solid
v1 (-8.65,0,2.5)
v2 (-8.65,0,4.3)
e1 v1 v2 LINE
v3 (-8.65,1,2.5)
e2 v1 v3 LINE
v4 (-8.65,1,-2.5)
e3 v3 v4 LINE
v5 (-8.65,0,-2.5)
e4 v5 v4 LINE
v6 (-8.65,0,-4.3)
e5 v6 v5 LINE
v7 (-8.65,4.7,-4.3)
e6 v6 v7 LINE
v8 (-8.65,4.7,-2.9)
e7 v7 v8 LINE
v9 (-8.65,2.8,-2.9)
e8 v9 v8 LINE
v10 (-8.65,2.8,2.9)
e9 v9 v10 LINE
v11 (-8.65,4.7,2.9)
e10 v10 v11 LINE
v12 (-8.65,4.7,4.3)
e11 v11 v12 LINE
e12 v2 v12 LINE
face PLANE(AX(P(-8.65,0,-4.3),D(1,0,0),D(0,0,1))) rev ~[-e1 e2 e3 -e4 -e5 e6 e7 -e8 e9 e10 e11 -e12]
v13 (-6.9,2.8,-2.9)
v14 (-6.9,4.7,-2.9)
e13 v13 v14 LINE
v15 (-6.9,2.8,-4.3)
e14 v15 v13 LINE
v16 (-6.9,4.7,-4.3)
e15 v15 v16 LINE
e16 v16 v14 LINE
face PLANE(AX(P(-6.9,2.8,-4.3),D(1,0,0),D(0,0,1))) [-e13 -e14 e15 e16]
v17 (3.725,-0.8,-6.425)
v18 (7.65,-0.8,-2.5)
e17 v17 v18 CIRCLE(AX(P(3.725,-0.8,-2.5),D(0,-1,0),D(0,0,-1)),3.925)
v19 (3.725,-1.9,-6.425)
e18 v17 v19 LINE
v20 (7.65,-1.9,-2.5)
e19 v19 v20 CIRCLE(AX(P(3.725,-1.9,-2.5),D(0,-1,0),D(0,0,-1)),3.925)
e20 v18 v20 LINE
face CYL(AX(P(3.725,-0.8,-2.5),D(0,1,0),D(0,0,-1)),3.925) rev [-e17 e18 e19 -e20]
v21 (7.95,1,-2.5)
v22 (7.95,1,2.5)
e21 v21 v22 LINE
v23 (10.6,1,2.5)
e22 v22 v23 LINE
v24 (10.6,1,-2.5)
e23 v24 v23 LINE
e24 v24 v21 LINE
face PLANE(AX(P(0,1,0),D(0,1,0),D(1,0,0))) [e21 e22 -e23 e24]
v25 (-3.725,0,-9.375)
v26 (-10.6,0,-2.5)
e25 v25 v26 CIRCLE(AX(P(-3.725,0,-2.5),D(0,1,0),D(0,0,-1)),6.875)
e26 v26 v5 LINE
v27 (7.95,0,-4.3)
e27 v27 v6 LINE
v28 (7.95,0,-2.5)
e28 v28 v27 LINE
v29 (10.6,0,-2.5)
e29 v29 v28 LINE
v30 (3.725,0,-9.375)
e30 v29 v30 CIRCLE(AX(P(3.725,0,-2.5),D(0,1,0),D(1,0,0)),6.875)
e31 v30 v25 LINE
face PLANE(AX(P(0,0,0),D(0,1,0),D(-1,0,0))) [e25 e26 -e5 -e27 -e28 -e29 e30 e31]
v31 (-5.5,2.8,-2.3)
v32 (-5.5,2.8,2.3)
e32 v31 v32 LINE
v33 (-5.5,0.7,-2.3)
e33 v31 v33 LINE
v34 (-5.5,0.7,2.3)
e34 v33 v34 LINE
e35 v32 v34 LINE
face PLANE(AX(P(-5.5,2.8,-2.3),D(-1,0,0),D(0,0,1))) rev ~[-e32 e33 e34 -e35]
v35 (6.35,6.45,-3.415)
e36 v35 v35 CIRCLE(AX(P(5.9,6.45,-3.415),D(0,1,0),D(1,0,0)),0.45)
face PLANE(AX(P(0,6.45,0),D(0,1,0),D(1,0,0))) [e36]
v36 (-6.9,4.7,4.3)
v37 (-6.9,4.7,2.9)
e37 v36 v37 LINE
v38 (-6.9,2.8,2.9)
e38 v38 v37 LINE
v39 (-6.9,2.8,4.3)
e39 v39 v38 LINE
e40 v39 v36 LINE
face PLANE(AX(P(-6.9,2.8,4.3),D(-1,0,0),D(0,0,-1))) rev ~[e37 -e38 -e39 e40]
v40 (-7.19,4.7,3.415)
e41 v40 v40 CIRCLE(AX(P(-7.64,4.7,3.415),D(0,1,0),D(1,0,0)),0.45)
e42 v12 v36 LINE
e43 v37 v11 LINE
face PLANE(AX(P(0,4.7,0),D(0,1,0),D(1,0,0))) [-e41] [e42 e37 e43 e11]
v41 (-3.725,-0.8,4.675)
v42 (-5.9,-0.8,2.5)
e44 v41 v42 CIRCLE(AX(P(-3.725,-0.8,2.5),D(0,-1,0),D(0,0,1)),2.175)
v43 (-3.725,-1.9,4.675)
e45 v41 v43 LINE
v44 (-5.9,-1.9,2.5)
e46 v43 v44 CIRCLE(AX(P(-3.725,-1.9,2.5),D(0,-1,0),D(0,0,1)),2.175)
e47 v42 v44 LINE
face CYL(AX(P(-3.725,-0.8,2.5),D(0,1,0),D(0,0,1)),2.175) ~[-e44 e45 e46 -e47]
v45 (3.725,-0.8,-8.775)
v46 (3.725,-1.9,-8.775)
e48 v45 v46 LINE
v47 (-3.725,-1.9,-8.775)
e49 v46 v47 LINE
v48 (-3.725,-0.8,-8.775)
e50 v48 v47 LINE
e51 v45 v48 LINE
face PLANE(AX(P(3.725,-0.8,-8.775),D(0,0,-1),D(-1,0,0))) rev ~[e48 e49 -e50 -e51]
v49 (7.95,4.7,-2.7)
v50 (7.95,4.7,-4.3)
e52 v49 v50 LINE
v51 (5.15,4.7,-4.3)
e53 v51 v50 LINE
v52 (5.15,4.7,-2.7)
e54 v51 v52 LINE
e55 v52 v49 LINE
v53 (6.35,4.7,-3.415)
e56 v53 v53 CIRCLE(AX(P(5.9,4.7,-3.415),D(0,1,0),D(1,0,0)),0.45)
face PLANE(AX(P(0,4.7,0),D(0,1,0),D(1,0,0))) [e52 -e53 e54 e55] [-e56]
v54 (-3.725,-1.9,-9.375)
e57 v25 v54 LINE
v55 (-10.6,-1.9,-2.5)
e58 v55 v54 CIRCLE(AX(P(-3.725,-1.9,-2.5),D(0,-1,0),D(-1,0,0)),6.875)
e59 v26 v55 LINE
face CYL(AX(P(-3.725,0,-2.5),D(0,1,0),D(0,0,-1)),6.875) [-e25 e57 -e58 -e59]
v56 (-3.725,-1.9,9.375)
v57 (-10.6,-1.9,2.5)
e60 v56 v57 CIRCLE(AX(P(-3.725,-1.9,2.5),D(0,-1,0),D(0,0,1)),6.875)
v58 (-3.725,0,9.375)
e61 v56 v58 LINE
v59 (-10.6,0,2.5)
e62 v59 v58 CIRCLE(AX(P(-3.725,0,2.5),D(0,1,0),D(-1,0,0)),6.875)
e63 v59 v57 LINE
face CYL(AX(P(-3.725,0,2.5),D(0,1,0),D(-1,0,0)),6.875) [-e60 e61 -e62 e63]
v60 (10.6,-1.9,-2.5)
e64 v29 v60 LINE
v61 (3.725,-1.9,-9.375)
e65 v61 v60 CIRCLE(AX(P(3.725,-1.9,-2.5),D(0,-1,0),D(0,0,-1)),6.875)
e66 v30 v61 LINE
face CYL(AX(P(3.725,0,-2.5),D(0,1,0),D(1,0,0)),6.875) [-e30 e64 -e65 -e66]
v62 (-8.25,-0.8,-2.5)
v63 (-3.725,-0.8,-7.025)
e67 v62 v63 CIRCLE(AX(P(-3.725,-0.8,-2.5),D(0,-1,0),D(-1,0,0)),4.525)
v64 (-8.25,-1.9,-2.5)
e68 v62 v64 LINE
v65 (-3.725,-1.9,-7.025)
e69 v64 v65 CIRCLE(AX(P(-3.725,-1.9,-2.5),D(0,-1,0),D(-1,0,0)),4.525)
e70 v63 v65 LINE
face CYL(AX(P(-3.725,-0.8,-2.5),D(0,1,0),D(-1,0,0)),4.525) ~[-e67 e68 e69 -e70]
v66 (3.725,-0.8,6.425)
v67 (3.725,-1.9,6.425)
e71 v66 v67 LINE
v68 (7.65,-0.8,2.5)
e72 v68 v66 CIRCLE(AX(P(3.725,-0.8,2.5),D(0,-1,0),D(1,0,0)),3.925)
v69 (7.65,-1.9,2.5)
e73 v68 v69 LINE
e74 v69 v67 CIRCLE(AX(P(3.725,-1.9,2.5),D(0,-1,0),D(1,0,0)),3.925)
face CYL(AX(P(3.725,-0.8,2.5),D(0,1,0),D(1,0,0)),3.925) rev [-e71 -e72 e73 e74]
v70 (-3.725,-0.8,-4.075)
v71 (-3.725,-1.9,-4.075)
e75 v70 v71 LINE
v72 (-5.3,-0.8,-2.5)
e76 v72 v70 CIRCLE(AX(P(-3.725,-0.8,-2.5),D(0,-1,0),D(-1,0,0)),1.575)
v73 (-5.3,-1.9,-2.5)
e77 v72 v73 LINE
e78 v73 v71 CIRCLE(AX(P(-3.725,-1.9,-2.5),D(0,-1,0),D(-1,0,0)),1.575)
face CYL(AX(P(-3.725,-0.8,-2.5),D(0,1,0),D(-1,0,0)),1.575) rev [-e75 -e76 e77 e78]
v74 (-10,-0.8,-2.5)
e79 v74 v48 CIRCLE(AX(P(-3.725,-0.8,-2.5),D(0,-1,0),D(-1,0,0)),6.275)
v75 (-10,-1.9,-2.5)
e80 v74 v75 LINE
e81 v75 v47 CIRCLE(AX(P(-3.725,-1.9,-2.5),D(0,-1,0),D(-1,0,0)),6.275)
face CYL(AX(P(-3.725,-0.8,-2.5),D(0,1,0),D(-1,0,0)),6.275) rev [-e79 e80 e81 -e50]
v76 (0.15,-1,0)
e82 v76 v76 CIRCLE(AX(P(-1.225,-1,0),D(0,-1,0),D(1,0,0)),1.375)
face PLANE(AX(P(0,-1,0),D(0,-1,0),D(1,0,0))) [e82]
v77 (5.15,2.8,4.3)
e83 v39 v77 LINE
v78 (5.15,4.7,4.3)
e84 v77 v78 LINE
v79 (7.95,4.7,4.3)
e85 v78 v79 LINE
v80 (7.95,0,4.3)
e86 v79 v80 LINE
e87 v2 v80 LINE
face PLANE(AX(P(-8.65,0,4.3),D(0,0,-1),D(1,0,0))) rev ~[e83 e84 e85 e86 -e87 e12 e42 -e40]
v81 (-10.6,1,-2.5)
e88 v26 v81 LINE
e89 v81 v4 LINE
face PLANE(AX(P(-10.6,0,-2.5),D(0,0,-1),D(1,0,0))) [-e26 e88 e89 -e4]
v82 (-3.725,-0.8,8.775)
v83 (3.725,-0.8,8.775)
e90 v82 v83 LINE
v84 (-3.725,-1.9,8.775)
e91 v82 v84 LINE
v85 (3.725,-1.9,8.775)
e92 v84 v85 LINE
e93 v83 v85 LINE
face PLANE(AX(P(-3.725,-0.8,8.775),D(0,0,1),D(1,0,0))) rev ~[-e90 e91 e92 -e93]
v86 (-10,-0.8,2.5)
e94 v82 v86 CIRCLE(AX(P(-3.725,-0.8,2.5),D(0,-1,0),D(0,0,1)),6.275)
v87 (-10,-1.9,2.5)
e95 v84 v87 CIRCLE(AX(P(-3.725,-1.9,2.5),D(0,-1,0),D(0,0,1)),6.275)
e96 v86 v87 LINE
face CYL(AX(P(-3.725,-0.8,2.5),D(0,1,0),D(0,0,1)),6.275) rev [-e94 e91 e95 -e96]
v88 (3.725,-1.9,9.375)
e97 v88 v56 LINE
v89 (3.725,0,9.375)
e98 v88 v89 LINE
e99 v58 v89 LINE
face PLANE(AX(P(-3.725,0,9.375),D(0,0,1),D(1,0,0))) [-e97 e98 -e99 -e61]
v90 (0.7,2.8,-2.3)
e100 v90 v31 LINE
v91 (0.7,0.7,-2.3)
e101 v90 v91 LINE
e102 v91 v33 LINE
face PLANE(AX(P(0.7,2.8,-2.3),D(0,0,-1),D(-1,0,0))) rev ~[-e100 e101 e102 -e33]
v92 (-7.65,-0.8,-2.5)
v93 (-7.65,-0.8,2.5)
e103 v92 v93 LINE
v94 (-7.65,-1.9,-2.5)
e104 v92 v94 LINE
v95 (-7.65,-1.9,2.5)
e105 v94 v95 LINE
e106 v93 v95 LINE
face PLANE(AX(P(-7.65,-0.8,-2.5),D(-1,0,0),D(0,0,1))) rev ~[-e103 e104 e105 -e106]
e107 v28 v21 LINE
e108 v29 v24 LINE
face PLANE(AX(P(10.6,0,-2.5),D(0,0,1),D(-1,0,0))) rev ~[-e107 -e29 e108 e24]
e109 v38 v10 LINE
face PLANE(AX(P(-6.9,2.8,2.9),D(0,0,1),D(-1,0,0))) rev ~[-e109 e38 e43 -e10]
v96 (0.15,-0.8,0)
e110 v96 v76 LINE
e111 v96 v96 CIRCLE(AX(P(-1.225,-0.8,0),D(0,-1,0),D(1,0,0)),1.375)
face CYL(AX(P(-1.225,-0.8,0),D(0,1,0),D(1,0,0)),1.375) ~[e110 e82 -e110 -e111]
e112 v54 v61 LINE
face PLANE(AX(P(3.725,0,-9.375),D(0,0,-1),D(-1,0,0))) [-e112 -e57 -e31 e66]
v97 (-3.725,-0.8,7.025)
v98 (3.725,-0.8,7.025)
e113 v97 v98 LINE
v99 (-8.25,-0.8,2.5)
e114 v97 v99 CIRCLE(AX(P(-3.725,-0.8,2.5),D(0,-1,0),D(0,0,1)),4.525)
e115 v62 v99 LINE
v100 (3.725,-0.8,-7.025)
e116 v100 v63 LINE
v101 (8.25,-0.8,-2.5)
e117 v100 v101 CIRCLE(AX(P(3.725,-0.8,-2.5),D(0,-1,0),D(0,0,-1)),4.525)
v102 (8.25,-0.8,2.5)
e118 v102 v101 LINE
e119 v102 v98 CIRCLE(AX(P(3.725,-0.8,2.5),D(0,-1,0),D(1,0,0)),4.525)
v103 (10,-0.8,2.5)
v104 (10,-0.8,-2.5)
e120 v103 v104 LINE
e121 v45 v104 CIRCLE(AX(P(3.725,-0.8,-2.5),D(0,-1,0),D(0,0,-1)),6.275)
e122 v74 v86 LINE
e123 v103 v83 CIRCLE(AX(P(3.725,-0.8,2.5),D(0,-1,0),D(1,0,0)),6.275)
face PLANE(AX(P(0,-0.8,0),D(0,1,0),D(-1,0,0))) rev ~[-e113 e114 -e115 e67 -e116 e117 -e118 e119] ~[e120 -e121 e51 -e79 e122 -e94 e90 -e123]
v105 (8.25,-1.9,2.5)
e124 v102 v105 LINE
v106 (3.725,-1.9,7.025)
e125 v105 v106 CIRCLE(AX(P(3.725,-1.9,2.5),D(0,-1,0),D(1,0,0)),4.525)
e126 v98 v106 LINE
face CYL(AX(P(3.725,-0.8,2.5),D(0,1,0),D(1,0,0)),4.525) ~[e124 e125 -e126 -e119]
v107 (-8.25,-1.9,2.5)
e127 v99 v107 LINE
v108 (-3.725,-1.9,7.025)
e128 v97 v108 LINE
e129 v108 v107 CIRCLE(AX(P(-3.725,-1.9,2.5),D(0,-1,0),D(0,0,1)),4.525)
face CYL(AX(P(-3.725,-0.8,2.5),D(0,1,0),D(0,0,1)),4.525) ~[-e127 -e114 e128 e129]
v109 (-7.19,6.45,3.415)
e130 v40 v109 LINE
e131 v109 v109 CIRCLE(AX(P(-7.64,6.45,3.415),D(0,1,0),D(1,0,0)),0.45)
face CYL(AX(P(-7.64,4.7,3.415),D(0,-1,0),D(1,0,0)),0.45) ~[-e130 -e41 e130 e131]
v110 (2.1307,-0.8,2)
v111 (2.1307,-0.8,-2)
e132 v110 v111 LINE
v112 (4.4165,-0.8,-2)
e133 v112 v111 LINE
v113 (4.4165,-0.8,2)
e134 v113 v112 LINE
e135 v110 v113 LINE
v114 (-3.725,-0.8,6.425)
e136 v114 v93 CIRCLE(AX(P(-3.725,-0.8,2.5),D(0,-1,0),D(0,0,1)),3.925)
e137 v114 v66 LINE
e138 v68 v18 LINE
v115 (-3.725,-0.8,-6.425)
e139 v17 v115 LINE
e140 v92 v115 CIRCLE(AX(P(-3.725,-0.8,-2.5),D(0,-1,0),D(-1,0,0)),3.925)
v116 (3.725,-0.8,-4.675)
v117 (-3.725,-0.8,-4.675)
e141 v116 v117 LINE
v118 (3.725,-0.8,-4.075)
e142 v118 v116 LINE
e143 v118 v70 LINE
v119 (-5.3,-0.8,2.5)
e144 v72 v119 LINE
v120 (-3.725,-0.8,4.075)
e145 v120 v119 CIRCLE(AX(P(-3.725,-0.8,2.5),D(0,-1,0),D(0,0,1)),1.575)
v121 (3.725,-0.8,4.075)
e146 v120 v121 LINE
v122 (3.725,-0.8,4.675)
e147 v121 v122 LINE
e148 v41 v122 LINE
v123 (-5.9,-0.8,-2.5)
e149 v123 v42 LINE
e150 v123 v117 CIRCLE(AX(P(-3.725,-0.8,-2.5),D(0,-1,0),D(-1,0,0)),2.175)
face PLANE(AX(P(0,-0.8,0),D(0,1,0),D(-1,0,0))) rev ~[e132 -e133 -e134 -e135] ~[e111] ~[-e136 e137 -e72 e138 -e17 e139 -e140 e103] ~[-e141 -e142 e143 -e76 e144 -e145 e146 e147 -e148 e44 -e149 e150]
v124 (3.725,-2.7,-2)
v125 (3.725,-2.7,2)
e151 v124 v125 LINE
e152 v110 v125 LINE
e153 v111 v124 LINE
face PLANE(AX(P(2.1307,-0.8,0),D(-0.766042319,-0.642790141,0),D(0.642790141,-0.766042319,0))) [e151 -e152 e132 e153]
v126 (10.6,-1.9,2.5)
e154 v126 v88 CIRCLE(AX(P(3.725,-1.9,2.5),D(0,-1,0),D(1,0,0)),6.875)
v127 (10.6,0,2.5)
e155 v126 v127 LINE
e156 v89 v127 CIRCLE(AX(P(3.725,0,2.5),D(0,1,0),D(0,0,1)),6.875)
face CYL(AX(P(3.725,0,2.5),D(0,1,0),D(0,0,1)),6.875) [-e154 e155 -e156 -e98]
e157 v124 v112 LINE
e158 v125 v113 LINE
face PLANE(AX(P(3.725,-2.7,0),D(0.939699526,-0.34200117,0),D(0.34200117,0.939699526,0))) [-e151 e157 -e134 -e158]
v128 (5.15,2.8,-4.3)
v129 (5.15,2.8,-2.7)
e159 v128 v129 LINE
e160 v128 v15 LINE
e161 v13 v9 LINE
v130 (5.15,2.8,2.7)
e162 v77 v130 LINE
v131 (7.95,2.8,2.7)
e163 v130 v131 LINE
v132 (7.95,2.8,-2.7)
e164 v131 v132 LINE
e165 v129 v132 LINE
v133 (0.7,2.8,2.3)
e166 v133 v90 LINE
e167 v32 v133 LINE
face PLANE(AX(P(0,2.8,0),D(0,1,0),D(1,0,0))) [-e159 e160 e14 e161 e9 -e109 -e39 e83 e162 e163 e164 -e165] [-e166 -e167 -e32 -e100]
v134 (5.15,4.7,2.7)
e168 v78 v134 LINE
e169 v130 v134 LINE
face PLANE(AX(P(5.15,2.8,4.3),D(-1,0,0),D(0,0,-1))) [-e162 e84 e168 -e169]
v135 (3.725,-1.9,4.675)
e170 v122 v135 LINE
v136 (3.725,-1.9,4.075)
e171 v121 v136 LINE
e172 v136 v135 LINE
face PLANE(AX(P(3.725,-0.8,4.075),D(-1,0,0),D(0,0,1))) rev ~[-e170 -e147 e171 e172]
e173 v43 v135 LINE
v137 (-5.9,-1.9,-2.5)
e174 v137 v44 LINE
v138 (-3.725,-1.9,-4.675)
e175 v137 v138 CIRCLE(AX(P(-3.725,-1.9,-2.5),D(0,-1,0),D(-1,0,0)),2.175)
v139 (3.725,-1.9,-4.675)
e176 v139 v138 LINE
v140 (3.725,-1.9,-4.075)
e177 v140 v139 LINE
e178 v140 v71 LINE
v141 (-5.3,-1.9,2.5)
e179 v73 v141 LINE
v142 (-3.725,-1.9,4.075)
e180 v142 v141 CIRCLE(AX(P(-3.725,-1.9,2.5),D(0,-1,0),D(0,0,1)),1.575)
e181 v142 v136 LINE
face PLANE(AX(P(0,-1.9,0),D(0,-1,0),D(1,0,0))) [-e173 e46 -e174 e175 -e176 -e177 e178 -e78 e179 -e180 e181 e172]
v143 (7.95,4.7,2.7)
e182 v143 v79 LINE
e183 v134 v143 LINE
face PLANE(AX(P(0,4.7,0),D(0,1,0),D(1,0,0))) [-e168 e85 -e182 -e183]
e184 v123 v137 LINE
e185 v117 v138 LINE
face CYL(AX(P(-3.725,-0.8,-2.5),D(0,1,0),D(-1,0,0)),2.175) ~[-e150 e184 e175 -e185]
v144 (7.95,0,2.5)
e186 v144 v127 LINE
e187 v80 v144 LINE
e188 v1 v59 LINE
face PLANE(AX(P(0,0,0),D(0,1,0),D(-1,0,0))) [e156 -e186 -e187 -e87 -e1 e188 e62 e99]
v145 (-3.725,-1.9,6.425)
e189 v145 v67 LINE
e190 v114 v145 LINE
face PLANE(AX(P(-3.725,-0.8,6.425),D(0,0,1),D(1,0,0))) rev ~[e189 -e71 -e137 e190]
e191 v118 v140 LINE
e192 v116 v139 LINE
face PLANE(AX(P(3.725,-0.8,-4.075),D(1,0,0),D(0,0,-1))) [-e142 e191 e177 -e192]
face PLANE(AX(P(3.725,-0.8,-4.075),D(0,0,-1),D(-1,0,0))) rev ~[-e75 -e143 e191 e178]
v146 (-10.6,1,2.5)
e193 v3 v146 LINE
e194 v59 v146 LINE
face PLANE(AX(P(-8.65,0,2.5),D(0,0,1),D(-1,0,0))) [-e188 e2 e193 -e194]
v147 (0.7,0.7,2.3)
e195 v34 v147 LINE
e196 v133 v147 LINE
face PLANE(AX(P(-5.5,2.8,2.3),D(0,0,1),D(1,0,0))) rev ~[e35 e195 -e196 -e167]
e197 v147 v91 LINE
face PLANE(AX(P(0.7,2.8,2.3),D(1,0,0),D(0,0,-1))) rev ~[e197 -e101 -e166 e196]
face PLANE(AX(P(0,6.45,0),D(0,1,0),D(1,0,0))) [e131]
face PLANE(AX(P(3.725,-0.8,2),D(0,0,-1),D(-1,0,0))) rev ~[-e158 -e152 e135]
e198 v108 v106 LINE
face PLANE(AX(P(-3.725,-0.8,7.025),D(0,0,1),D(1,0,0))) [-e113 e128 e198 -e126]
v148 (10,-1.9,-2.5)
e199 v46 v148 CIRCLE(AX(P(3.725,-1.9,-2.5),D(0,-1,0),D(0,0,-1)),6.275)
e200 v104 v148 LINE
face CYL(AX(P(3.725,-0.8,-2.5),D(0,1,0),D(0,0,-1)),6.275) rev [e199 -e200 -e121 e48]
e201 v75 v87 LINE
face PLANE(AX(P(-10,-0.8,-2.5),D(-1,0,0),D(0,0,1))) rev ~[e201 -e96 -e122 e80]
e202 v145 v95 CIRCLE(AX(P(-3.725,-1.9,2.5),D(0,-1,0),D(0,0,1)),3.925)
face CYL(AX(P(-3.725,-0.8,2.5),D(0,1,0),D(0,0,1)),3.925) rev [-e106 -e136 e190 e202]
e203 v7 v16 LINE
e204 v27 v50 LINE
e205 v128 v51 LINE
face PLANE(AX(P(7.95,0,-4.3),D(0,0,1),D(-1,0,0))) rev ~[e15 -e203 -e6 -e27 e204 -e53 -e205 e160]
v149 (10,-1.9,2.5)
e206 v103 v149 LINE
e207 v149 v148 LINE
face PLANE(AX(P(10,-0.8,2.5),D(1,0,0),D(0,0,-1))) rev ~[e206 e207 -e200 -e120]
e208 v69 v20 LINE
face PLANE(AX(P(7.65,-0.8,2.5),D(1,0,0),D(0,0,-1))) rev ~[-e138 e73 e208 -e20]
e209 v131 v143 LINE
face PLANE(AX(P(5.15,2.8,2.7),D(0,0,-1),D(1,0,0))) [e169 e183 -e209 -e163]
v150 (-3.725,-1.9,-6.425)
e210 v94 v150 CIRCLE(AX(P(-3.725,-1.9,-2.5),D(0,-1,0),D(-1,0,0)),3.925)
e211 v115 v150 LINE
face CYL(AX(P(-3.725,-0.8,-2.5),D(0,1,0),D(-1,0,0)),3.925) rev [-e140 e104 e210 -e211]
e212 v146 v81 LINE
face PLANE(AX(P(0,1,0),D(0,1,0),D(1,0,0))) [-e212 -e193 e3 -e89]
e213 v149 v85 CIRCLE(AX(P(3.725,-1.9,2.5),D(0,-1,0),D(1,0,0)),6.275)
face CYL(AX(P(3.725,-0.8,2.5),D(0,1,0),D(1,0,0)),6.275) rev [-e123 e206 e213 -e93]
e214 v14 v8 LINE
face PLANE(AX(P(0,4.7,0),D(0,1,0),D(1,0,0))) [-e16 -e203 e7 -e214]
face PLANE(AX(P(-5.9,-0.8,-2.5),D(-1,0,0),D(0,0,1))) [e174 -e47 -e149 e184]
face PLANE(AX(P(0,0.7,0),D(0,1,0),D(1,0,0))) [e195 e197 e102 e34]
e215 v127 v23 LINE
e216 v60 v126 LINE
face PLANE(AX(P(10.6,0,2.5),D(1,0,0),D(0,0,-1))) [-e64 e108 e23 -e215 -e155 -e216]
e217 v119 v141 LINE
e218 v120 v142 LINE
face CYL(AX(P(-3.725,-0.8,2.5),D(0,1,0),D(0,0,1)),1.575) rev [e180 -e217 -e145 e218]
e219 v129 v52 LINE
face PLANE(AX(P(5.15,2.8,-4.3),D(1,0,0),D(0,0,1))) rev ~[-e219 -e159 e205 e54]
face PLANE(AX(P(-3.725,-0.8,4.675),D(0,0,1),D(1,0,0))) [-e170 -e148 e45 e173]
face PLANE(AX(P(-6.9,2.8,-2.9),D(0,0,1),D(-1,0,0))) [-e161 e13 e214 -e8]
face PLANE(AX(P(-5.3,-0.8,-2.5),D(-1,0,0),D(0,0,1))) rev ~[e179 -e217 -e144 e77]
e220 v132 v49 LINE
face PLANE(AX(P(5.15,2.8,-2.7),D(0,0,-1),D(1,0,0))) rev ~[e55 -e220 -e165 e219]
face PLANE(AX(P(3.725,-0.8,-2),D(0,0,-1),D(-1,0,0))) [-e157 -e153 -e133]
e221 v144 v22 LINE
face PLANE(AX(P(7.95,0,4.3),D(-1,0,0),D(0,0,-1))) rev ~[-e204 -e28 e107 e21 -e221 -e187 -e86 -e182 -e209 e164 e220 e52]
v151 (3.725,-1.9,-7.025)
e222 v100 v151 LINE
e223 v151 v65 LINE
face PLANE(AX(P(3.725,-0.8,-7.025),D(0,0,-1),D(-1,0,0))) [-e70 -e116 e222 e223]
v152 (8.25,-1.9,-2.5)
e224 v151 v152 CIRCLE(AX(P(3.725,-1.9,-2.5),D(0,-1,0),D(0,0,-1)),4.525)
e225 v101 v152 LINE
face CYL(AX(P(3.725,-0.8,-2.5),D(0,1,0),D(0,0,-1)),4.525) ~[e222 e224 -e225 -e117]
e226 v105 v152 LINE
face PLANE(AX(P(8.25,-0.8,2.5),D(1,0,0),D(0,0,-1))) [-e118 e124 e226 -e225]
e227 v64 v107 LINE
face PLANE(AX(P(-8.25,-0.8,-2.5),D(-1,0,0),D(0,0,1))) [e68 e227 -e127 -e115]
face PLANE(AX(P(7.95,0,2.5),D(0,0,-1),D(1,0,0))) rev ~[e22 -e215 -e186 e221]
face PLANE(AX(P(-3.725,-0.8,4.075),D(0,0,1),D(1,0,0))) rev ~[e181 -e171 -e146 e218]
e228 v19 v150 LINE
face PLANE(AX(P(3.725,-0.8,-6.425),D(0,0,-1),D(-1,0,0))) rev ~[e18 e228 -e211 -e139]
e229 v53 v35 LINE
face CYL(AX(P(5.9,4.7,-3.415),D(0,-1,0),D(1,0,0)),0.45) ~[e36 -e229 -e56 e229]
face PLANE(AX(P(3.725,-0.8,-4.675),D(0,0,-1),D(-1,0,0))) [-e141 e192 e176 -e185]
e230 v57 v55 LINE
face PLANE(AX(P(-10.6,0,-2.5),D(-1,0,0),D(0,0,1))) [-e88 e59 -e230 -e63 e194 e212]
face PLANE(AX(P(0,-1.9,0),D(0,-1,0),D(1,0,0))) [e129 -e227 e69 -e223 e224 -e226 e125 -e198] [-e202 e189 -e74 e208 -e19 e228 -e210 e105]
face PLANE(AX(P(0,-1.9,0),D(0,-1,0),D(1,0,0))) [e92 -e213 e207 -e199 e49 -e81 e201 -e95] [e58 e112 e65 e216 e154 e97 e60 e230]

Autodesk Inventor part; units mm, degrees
ref_plane "YZ Plane" through (0, 0, 0) normal (1, 0, 0) x (0, 1, 0)
ref_plane "XZ Plane" through (0, 0, 0) normal (0, 1, 0) x (-1, 0, 0)
sketch "Sketch1" plane through (0, 0, 0) normal (0, 1, 0) x (-1, 0, 0)
  line L0 (3.725, 9.375) -> (-3.725, 9.375)
  line L1 (-10.6, 2.5) -> (-10.6, -2.5)
  line L2 (-3.725, -9.375) -> (3.725, -9.375)
  line L3 (10.6, -2.5) -> (10.6, 2.5)
  line L4 (16.8334, 0) -> (-16.8334, 0) construction
  line L5 (0, -15.1184) -> (0, 15.1184) construction
  arc A0 (10.6, 2.5) -> (3.725, 9.375) centre (3.725, 2.5) ccw
  arc A1 (3.725, -9.375) -> (10.6, -2.5) centre (3.725, -2.5) ccw
  arc A2 (-10.6, -2.5) -> (-3.725, -9.375) centre (-3.725, -2.5) ccw
  arc A3 (-3.725, 9.375) -> (-10.6, 2.5) centre (-3.725, 2.5) ccw
  point P0 (0, 0)
  point P1 (-10.6, -9.375)
  point P2 (-10.6, 9.375)
  point P3 (10.6, -9.375)
  dimension "d0" = 21.2
  dimension "d1" = 18.75
  dimension "d2" = 6.875
extrude "Extrusion1" add sketch "Sketch1" against normal blind 0.8
sketch "Sketch2" plane through (0, -0.8, 0) normal (0, -1, 0) x (1, 0, 0)
  line L0 (10.6, -2.5) -> (10.6, 2.5) projected
  arc A0 (10.6, 2.5) -> (3.725, 9.375) centre (3.725, 2.5) ccw projected
  arc A1 (3.725, -9.375) -> (10.6, -2.5) centre (3.725, -2.5) ccw projected
  line L1 (-3.725, -9.375) -> (3.725, -9.375) projected
  arc A2 (-10.6, -2.5) -> (-3.725, -9.375) centre (-3.725, -2.5) ccw projected
  line L2 (-10.6, 2.5) -> (-10.6, -2.5) projected
  arc A3 (-3.725, 9.375) -> (-10.6, 2.5) centre (-3.725, 2.5) ccw projected
  line L3 (3.725, 9.375) -> (-3.725, 9.375) projected
  arc A4 (10, 2.5) -> (3.725, 8.775) centre (3.725, 2.5) ccw
  line L4 (10, 2.5) -> (10, -2.5)
  arc A5 (3.725, -8.775) -> (10, -2.5) centre (3.725, -2.5) ccw
  line L5 (3.725, -8.775) -> (-3.725, -8.775)
  arc A6 (-10, -2.5) -> (-3.725, -8.775) centre (-3.725, -2.5) ccw
  line L6 (-10, -2.5) -> (-10, 2.5)
  arc A7 (-3.725, 8.775) -> (-10, 2.5) centre (-3.725, 2.5) ccw
  line L7 (-3.725, 8.775) -> (3.725, 8.775)
  arc A8 (8.25, 2.5) -> (3.725, 7.025) centre (3.725, 2.5) ccw
  line L8 (8.25, 2.5) -> (8.25, -2.5)
  arc A9 (3.725, -7.025) -> (8.25, -2.5) centre (3.725, -2.5) ccw
  line L9 (3.725, -7.025) -> (-3.725, -7.025)
  arc A10 (-8.25, -2.5) -> (-3.725, -7.025) centre (-3.725, -2.5) ccw
  line L10 (-8.25, -2.5) -> (-8.25, 2.5)
  arc A11 (-3.725, 7.025) -> (-8.25, 2.5) centre (-3.725, 2.5) ccw
  line L11 (-3.725, 7.025) -> (3.725, 7.025)
  arc A12 (7.65, 2.5) -> (3.725, 6.425) centre (3.725, 2.5) ccw
  line L12 (7.65, 2.5) -> (7.65, -2.5)
  arc A13 (3.725, -6.425) -> (7.65, -2.5) centre (3.725, -2.5) ccw
  line L13 (3.725, -6.425) -> (-3.725, -6.425)
  arc A14 (-7.65, -2.5) -> (-3.725, -6.425) centre (-3.725, -2.5) ccw
  line L14 (-7.65, -2.5) -> (-7.65, 2.5)
  arc A15 (-3.725, 6.425) -> (-7.65, 2.5) centre (-3.725, 2.5) ccw
  line L15 (-3.725, 6.425) -> (3.725, 6.425)
  arc A16 (5.9, 2.5) -> (3.725, 4.675) centre (3.725, 2.5) ccw
  line L16 (5.9, 2.5) -> (5.9, -2.5)
  arc A17 (3.725, -4.675) -> (5.9, -2.5) centre (3.725, -2.5) ccw
  line L17 (3.725, -4.675) -> (-3.725, -4.675)
  arc A18 (-5.9, -2.5) -> (-3.725, -4.675) centre (-3.725, -2.5) ccw
  line L18 (-5.9, -2.5) -> (-5.9, 2.5)
  arc A19 (-3.725, 4.675) -> (-5.9, 2.5) centre (-3.725, 2.5) ccw
  line L19 (-3.725, 4.675) -> (3.725, 4.675)
  arc A20 (5.3, 2.5) -> (3.725, 4.075) centre (3.725, 2.5) ccw
  line L20 (5.3, 2.5) -> (5.3, -2.5)
  arc A21 (3.725, -4.075) -> (5.3, -2.5) centre (3.725, -2.5) ccw
  line L21 (3.725, -4.075) -> (-3.725, -4.075)
  arc A22 (-5.3, -2.5) -> (-3.725, -4.075) centre (-3.725, -2.5) ccw
  line L22 (-5.3, -2.5) -> (-5.3, 2.5)
  arc A23 (-3.725, 4.075) -> (-5.3, 2.5) centre (-3.725, 2.5) ccw
  line L23 (-3.725, 4.075) -> (3.725, 4.075)
  line L24 (3.725, 4.075) -> (3.725, 4.675)
  line L25 (3.725, -4.075) -> (3.725, -4.675)
  point P0 (0, 0)
  dimension "d5" = 0.6
  dimension "d6" = 1.75
  dimension "d7" = 0.6
  dimension "d8" = 1.75
  dimension "d9" = 0.6
extrude "Extrusion2" add sketch "Sketch2" along normal blind 1.1 contours A1 L1 A2 L2 A3 L3 A0 L0 | L8 A9 L9 A10 L10 A11 L11 A8 | L24 L23 A23 L22 A22 L21 L25 L17 A18 L18 A19 L19
sketch "Sketch3" plane through (0, 0, 0) normal (0, 1, 0) x (1, 0, 0)
  line L0 (7.95, 4.3) -> (-8.65, 4.3)
  line L1 (-8.65, 4.3) -> (-8.65, -4.3)
  line L2 (-8.65, -4.3) -> (7.95, -4.3)
  line L3 (7.95, -4.3) -> (7.95, 4.3)
  line L4 (-14.84, 0) -> (14.84, 0) construction
  line L5 (-10.6, 2.5) -> (-10.6, -2.5) projected
  point P0 (0, 0)
  dimension "d12" = 16.6
  dimension "d13" = 8.6
  dimension "d14" = 1.95
extrude "Extrusion3" add sketch "Sketch3" along normal blind 2.8
sketch "Sketch4" plane through (0, 2.8, 0) normal (0, 1, 0) x (1, 0, 0)
  line L0 (0.7, 2.3) -> (-5.5, 2.3)
  line L1 (-5.5, 2.3) -> (-5.5, -2.3)
  line L2 (-5.5, -2.3) -> (0.7, -2.3)
  line L3 (0.7, -2.3) -> (0.7, 2.3)
  line L4 (-14.84, 0) -> (14.84, 0) construction
  line L5 (-8.65, 4.3) -> (-8.65, -4.3) projected
  point P0 (0, 0)
  dimension "d17" = 6.2
  dimension "d18" = 4.6
  dimension "d19" = 3.15
extrude "Extrusion4" cut sketch "Sketch4" against normal blind 2.1
sketch "Sketch5" plane through (0, 2.8, 0) normal (0, 1, 0) x (1, 0, 0)
  line L0 (-8.65, 4.3) -> (7.95, 4.3) projected
  line L1 (7.95, 4.3) -> (5.15, 4.3)
  line L2 (5.15, 4.3) -> (5.15, 2.7)
  line L3 (5.15, 2.7) -> (7.95, 2.7)
  line L4 (7.95, 2.7) -> (7.95, 4.3)
  line L5 (-8.65, -4.3) -> (7.95, -4.3) projected
  line L6 (7.95, -4.3) -> (5.15, -4.3)
  line L7 (5.15, -4.3) -> (5.15, -2.7)
  line L8 (5.15, -2.7) -> (7.95, -2.7)
  line L9 (7.95, -2.7) -> (7.95, -4.3)
  line L10 (-8.65, 4.3) -> (-8.65, -4.3) projected
  line L11 (-8.65, -4.3) -> (-6.9, -4.3)
  line L12 (-6.9, -4.3) -> (-6.9, -2.9)
  line L13 (-6.9, -2.9) -> (-8.65, -2.9)
  line L14 (-8.65, -2.9) -> (-8.65, -4.3)
  line L15 (-8.65, 4.3) -> (-6.9, 4.3)
  line L16 (-6.9, 4.3) -> (-6.9, 2.9)
  line L17 (-6.9, 2.9) -> (-8.65, 2.9)
  line L18 (-8.65, 2.9) -> (-8.65, 4.3)
  point P0 (0, 0)
  dimension "d22" = 2.8
  dimension "d23" = 1.6
  dimension "d24" = 2.8
  dimension "d25" = 1.6
  dimension "d26" = 1.75
  dimension "d27" = 1.4
  dimension "d28" = 1.75
  dimension "d29" = 1.4
extrude "Extrusion5" add sketch "Sketch5" along normal blind 1.9
sketch "Sketch6" plane through (0, 0, 0) normal (0, 1, 0) x (1, 0, 0)
  arc A0 (-3.725, 9.375) -> (-10.6, 2.5) centre (-3.725, 2.5) ccw projected
  line L0 (-8.65, -4.3) -> (-8.65, 4.3) projected
  line L1 (-10.6, 2.5) -> (-8.65, 2.5)
  line L2 (-8.65, 2.5) -> (-8.65, -2.5)
  line L3 (-8.65, -2.5) -> (-10.6, -2.5)
  line L4 (-10.6, -2.5) -> (-10.6, 2.5)
  line L5 (10.6, 2.5) -> (10.6, -2.5) projected
  line L6 (7.95, 4.3) -> (7.95, -4.3) projected
  line L7 (10.6, 2.5) -> (7.95, 2.5)
  line L8 (7.95, 2.5) -> (7.95, -2.5)
  line L9 (7.95, -2.5) -> (10.6, -2.5)
  line L10 (10.6, -2.5) -> (10.6, 2.5)
  point P0 (0, 0)
  dimension "d32" = 5
  dimension "d33" = 5
extrude "Extrusion6" add sketch "Sketch6" along normal blind 1
sketch "Sketch7" plane through (0, 4.7, 0) normal (0, 1, 0) x (1, 0, 0)
  circle A0 centre (5.9, 3.415) radius 0.45
  circle A1 centre (-7.64, -3.415) radius 0.45
  line L0 (5.15, 4.3) -> (5.15, 2.7) projected
  line L1 (-6.9, -4.3) -> (-6.9, -2.9) projected
  line L2 (5.15, 2.7) -> (7.95, 2.7) projected
  line L3 (-6.9, -2.9) -> (-8.65, -2.9) projected
  point P0 (0, 0)
  point P1 (5.15, 3.5)
  point P2 (-6.9, -3.6)
  point P3 (6.55, 2.7)
  point P4 (-7.775, -2.9)
  dimension "d36" = 0.9
  dimension "d37" = 0.9
  dimension "d48" = 13.54
  dimension "d49" = 6.83
  dimension "d50" = 3.415
  dimension "d52" = 5.9
extrude "Extrusion7" add sketch "Sketch7" along normal blind 1.75
ref_plane "Work Plane1" through (3.725, -0.8, 0) normal (0, 0, -1) x (-1, 0, 0)
sketch "Sketch8" plane through (3.725, -0.8, 0) normal (0, 0, -1) x (-1, 0, 0)
  line L0 (0, 0) -> (0, -1.1) construction
  line L1 (1.5943, 0) -> (0, -1.9)
  line L2 (0, -1.9) -> (-0.6915, 0)
  line L3 (7.45, -1.1) -> (0, -1.1) construction
  line L4 (0, 0) -> (7.45, 0) projected
  line L5 (-3.925, 0) -> (0, 0) projected
  point P0 (3.725, 0.8)
  dimension "d40" = 0.8
  dimension "d41" = 60
  dimension "d42" = 70
extrude "Extrusion8" add sketch "Sketch8" along normal mid plane 4
sketch "Sketch9" plane through (0, -0.8, 0) normal (0, -1, 0) x (1, 0, 0)
  circle A0 centre (-1.225, 0) radius 1.375
  arc A1 (-3.725, 4.075) -> (-5.3, 2.5) centre (-3.725, 2.5) ccw projected
  arc A2 (-5.3, -2.5) -> (-3.725, -4.075) centre (-3.725, -2.5) ccw projected
  line L0 (-3.725, 2.5) -> (-1.225, 0) construction
  line L1 (-1.225, 0) -> (-3.725, -2.5) construction
  point P0 (0, 0)
  dimension "d45" = 2.75
extrude "Extrusion9" add sketch "Sketch9" along normal blind 0.2
equation "\"d29\" = d27"
equation "\"d50\" = 0.5 * d49"
properties part number "LM19-LSI_lens" material "Polycarbonate, Clear"
